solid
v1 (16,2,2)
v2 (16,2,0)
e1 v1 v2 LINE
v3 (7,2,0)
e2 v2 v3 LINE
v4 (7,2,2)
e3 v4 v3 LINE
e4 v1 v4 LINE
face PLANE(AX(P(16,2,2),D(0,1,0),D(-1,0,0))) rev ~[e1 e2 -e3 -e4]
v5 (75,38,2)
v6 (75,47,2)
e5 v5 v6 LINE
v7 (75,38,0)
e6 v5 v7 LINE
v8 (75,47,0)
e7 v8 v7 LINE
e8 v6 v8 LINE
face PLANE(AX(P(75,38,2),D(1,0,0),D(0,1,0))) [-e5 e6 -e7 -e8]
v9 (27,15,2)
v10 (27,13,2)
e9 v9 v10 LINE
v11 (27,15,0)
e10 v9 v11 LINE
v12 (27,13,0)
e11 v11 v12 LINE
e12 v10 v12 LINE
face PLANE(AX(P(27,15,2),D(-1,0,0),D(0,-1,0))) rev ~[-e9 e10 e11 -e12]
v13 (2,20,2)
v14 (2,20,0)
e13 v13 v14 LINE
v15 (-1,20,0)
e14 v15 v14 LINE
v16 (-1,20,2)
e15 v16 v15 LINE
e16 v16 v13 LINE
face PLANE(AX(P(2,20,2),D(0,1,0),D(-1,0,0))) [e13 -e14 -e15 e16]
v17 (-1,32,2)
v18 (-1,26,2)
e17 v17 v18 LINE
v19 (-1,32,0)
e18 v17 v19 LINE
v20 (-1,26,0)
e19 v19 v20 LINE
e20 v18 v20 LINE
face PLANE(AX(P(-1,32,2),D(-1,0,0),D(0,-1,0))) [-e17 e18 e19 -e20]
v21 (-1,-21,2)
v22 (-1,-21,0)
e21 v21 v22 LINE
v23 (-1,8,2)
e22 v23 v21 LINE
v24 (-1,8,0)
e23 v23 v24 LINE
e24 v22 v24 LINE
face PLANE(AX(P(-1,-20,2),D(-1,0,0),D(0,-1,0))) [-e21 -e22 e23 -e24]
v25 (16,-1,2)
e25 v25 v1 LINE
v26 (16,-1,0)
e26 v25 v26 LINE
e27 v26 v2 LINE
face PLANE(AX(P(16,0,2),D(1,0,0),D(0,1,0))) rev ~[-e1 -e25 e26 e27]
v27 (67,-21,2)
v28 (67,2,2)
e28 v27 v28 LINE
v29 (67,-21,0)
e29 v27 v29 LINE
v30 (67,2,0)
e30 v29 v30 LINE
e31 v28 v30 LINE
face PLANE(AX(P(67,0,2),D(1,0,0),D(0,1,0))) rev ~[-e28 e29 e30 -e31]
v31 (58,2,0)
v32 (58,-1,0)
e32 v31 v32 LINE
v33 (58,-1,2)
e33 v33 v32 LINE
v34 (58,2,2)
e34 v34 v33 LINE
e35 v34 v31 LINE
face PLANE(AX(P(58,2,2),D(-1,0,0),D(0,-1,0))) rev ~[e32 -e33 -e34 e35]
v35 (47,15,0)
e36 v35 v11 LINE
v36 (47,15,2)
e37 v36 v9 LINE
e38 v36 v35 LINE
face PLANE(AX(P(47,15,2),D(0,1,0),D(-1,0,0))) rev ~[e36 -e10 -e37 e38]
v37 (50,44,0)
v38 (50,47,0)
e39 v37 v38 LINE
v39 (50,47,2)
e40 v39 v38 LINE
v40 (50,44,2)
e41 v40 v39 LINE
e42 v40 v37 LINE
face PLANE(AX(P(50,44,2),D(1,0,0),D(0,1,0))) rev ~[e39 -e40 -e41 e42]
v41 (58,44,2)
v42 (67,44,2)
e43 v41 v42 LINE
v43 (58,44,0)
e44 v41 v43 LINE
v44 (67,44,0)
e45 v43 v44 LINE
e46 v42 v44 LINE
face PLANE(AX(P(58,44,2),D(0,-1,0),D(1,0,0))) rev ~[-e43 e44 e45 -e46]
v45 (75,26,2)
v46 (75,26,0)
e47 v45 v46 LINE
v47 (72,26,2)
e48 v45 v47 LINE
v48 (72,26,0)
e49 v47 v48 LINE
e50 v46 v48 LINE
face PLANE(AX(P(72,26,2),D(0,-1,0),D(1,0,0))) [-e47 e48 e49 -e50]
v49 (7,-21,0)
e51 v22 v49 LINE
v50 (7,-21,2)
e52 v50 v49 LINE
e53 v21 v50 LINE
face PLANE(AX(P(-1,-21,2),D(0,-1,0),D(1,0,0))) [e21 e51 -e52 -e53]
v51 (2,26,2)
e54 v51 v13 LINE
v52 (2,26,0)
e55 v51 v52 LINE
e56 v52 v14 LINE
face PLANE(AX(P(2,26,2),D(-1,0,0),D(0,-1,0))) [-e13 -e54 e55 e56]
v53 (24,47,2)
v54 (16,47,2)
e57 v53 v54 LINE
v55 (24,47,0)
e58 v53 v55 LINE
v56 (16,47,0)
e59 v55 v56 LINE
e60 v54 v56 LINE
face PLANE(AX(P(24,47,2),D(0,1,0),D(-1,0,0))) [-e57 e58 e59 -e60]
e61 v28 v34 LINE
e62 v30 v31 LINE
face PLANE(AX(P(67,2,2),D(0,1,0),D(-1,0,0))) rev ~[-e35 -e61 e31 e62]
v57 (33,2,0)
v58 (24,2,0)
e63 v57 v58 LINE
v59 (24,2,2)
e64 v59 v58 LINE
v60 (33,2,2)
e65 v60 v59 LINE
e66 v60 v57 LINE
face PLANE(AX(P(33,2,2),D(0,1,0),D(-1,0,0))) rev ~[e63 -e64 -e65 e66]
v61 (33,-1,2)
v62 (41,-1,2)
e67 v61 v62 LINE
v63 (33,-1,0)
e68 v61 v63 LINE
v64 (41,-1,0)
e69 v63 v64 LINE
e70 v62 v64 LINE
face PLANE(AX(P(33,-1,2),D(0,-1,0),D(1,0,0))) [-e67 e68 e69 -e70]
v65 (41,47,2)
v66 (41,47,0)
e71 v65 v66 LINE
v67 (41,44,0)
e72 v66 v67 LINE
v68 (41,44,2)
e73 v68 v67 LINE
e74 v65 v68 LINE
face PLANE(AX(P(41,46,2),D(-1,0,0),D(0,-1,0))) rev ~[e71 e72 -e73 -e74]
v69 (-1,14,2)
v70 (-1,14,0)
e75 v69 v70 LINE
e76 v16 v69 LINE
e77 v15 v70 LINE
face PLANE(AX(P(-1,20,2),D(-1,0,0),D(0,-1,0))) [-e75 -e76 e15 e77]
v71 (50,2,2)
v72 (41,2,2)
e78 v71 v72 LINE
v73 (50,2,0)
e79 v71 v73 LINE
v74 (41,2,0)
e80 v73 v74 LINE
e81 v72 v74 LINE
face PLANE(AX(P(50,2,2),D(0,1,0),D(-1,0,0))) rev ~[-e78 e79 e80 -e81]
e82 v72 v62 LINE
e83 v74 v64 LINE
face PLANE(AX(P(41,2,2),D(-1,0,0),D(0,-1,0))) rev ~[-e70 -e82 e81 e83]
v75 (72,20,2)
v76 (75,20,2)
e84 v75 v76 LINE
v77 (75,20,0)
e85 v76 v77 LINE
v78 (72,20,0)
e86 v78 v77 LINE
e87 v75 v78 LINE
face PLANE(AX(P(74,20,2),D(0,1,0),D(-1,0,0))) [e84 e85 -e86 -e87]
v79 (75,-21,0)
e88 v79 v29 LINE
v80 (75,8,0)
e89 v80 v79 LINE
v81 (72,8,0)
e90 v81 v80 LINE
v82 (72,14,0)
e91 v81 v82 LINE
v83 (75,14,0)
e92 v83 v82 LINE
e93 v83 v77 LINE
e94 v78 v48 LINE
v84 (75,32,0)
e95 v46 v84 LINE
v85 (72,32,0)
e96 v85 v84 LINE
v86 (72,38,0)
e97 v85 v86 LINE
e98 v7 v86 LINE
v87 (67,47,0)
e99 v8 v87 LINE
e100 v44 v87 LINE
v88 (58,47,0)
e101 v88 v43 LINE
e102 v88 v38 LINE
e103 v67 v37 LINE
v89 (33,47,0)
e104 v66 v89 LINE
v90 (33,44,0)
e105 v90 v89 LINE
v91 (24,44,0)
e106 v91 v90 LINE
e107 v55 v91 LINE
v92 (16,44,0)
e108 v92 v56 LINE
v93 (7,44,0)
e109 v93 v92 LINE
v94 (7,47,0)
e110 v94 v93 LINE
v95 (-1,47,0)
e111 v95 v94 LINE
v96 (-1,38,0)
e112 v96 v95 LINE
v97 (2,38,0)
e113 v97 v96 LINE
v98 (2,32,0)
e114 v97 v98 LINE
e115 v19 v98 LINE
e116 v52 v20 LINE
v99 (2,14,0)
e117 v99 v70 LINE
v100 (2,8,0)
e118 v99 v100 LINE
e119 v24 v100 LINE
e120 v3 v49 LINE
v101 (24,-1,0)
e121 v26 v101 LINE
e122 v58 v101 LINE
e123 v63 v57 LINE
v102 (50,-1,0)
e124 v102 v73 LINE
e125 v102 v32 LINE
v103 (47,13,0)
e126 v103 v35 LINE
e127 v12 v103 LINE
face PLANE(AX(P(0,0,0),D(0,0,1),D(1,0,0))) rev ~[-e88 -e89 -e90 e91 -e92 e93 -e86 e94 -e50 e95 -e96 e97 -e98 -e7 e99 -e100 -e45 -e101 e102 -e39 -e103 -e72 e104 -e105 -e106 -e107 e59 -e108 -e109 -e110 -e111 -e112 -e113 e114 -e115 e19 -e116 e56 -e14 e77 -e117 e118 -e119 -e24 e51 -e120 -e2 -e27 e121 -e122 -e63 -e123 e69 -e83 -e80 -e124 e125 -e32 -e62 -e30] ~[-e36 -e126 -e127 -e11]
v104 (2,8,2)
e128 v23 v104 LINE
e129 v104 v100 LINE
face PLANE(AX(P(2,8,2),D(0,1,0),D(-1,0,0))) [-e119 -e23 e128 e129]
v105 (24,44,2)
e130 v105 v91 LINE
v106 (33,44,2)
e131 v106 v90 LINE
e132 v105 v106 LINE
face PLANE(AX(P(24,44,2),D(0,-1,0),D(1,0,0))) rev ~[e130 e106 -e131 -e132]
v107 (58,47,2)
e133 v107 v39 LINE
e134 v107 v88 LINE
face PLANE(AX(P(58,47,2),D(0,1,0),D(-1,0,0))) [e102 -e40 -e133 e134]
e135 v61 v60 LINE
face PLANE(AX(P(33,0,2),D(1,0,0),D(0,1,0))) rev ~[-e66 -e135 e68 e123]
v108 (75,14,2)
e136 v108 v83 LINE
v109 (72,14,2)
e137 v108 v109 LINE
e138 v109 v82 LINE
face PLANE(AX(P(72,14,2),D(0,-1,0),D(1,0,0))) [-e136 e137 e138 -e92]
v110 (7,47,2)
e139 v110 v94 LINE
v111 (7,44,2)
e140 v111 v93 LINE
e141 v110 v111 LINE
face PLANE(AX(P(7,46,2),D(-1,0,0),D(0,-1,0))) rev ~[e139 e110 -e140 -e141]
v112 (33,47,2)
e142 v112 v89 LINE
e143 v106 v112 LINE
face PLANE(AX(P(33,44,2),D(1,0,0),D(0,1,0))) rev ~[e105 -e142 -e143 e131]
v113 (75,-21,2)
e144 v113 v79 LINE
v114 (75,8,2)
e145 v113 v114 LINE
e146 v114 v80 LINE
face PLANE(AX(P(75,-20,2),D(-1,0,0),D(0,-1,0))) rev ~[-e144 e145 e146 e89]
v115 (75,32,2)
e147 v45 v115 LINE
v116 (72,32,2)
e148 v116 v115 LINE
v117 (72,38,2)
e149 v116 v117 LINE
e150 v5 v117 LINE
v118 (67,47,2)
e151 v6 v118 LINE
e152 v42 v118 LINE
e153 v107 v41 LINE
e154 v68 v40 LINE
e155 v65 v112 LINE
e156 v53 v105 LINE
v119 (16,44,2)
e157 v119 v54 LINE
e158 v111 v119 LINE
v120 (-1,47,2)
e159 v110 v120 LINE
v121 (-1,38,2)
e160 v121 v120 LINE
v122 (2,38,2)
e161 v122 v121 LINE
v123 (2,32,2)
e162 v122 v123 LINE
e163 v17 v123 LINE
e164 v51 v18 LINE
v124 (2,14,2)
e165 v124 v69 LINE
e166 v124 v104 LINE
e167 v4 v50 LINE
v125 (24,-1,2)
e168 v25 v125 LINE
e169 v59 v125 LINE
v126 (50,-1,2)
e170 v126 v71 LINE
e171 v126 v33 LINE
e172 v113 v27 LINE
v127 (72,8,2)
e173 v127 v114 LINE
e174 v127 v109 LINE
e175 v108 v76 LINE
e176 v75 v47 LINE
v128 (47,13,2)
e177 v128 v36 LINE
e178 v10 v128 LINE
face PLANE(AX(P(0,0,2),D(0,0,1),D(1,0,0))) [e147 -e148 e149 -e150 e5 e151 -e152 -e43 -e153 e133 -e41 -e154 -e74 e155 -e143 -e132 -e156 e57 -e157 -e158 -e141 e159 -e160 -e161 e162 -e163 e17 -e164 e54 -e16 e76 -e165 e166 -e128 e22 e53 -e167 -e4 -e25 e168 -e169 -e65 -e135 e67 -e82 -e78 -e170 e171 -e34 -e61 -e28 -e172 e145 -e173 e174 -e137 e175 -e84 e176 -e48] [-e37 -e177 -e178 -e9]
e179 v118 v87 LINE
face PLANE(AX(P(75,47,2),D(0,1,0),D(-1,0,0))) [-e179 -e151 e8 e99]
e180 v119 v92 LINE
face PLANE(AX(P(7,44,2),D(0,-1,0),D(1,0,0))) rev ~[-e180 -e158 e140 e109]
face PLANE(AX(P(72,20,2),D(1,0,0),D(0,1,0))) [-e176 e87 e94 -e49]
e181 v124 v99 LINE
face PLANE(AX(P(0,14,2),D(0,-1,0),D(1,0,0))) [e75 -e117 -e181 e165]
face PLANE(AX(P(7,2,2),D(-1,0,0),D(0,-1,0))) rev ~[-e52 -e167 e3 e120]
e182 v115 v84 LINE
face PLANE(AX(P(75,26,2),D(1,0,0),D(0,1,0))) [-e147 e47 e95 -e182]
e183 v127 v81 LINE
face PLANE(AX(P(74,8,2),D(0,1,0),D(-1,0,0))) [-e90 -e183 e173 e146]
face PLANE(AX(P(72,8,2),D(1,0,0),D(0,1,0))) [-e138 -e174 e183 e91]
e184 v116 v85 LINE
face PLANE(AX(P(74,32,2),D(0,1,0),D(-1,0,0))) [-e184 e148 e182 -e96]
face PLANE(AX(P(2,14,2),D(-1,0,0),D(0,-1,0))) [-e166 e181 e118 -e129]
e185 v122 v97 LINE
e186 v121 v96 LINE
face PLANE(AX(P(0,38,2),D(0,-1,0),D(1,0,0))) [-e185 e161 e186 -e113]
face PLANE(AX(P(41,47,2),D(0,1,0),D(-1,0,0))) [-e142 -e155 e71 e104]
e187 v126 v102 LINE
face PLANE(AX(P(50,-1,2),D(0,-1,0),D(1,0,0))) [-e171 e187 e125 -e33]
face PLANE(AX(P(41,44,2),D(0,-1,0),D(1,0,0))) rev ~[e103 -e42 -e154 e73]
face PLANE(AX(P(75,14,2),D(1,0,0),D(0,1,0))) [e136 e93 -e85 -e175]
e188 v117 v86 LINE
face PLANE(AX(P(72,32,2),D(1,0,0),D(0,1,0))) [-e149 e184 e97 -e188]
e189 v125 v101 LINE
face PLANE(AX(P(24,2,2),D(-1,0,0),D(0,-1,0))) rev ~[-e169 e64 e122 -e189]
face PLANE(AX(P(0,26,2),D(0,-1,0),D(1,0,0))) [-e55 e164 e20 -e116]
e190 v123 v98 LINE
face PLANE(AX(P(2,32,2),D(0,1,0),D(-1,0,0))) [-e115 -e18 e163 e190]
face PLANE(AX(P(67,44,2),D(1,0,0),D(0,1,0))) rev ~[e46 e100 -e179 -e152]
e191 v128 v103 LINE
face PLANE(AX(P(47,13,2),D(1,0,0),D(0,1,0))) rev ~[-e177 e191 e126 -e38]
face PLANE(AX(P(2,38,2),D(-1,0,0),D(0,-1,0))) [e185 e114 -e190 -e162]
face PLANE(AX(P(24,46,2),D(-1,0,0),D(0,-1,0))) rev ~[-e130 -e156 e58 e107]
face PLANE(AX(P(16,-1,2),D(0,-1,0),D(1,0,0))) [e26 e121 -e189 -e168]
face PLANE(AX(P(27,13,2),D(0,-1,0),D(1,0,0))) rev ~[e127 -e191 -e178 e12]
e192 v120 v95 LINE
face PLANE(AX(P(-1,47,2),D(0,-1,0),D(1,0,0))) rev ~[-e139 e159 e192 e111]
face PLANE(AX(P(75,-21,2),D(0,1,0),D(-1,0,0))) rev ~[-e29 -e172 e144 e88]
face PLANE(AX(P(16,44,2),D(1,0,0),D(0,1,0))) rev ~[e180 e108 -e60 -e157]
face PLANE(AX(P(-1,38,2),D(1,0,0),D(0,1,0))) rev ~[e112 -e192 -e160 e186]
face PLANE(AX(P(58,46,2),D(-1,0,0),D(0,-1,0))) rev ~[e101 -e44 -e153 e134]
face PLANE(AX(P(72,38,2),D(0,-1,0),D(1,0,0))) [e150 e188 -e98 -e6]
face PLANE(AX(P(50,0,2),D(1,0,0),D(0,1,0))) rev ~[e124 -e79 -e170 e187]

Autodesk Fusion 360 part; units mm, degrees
sketch "スケッチ1" plane through (0, 0, 0) normal (0, 0, 1) x (1, 0, 0)
  line L0 (0, 0) -> (74, 0)
  line L1 (74, 0) -> (74, 46)
  line L2 (74, 46) -> (0, 46)
  line L3 (0, 46) -> (0, 0)
  dimension "d1" = 46
  dimension "d2" = 74
extrude "押し出し1" add sketch "スケッチ1" along normal blind 2
sketch "スケッチ2" plane through (0, 0, 2) normal (0, 0, 1) x (-1, 0, 0)
  line L0 (0, -46) -> (0, 0)
  line L1 (0, 0) -> (-74, 0)
  line L2 (-74, 0) -> (-74, -46)
  line L3 (-74, -46) -> (0, -46)
  line L4 (-27, -13) -> (-47, -13)
  line L5 (-47, -13) -> (-47, -15)
  line L6 (-47, -15) -> (-27, -15)
  line L7 (-27, -15) -> (-27, -13)
  dimension "d5" = 2
  dimension "d6" = 20
  dimension "d7" = 13
  dimension "d8" = 27
extrude "押し出し2" cut sketch "スケッチ2" against normal blind 2 contours L4 L5 L6 L7
sketch "スケッチ3" plane through (0, 0, 2) normal (0, 0, 1) x (-1, 0, 0)
  line L0 (-47, -13) -> (-27, -13)
  line L1 (-27, -13) -> (-27, -15)
  line L2 (-27, -15) -> (-47, -15)
  line L3 (-47, -15) -> (-47, -13)
  line L4 (0, -46) -> (0, 0)
  line L5 (0, 0) -> (-74, 0)
  line L6 (-74, 0) -> (-74, -46)
  line L7 (-74, -46) -> (0, -46)
  line L8 (-67, -46) -> (-58, -46)
  line L9 (-58, -46) -> (-58, -44)
  line L10 (-58, -44) -> (-67, -44)
  line L11 (-67, -44) -> (-67, -46)
  line L12 (-50, -46) -> (-41, -46)
  line L13 (-50, -44) -> (-50, -46)
  line L14 (-41, -44) -> (-50, -44)
  line L15 (-41, -46) -> (-41, -44)
  line L16 (-33, -46) -> (-24, -46)
  line L17 (-33, -44) -> (-33, -46)
  line L18 (-24, -44) -> (-33, -44)
  line L19 (-24, -46) -> (-24, -44)
  line L20 (-16, -46) -> (-7, -46)
  line L21 (-16, -44) -> (-16, -46)
  line L22 (-7, -44) -> (-16, -44)
  line L23 (-7, -46) -> (-7, -44)
  line L24 (-24, 0) -> (-33, 0)
  line L25 (-33, 0) -> (-33, -2)
  line L26 (-58, 0) -> (-67, 0)
  line L27 (-50, 0) -> (-50, -2)
  line L28 (-50, -2) -> (-41, -2)
  line L29 (-7, -2) -> (-7, 0)
  line L30 (-7, 0) -> (-16, 0)
  line L31 (-16, 0) -> (-16, -2)
  line L32 (-33, -2) -> (-24, -2)
  line L33 (-67, 0) -> (-67, -2)
  line L34 (-41, -2) -> (-41, 0)
  line L35 (-16, -2) -> (-7, -2)
  line L36 (-24, -2) -> (-24, 0)
  line L37 (-41, 0) -> (-50, 0)
  line L38 (-67, -2) -> (-58, -2)
  line L39 (-58, -2) -> (-58, 0)
  line L40 (0, -38) -> (-2, -38)
  line L41 (-2, -38) -> (-2, -32)
  line L42 (-2, -32) -> (0, -32)
  line L43 (0, -32) -> (0, -38)
  line L44 (-2, -20) -> (0, -20)
  line L45 (-2, -26) -> (-2, -20)
  line L46 (0, -26) -> (-2, -26)
  line L47 (0, -20) -> (0, -26)
  line L48 (-2, -8) -> (0, -8)
  line L49 (-2, -14) -> (-2, -8)
  line L50 (0, -14) -> (-2, -14)
  line L51 (0, -8) -> (0, -14)
  line L52 (-74, -20) -> (-72, -20)
  line L53 (-72, -8) -> (-72, -14)
  line L54 (-74, -8) -> (-72, -8)
  line L55 (-72, -14) -> (-74, -14)
  line L56 (-74, -38) -> (-74, -32)
  line L57 (-72, -32) -> (-72, -38)
  line L58 (-72, -26) -> (-74, -26)
  line L59 (-74, -32) -> (-72, -32)
  line L60 (-74, -14) -> (-74, -8)
  line L61 (-72, -20) -> (-72, -26)
  line L62 (-74, -26) -> (-74, -20)
  line L63 (-72, -38) -> (-74, -38)
  dimension "d11" = 9
  dimension "d12" = 2
  dimension "d13" = 7
  dimension "d16" = 17
  dimension "d17" = 0
  dimension "d20" = 0
  dimension "d21" = 44
  dimension "d22" = 6
  dimension "d23" = 2
  dimension "d24" = 8
  dimension "d27" = 0
  dimension "d28" = 12
  dimension "d31" = -72
  dimension "d32" = 0
extrude "押し出し3" cut sketch "スケッチ3" against normal blind 2 contours L4 L40 L41 L42 L43 | L7 L20 L21 L22 L23 | L4 L44 L45 L46 L47 | L7 L16 L17 L18 L19 | L4 L48 L49 L50 L51 | L7 L12 L13 L14 L15 | L7 L8 L9 L10 L11 | L5 L29 L30 L31 L35 | L5 L24 L25 L32 L36 | L6 L56 L57 L59 L63 | L5 L27 L28 L34 L37 | L6 L52 L58 L61 L62 | L5 L26 L33 L38 L39 | L6 L53 L54 L55 L60
sketch "スケッチ4" plane through (0, 0, 2) normal (0, 0, 1) x (-1, 0, 0)
  line L0 (-50, -2) -> (-50, 0)
  line L1 (-50, 0) -> (-58, 0)
  line L2 (-58, 0) -> (-58, -2)
  line L3 (-58, -2) -> (-67, -2)
  line L4 (-67, -2) -> (-67, 0)
  line L5 (-67, 0) -> (-74, 0)
  line L6 (-74, 0) -> (-74, -8)
  line L7 (-74, -8) -> (-72, -8)
  line L8 (-72, -8) -> (-72, -14)
  line L9 (-72, -14) -> (-74, -14)
  line L10 (-74, -14) -> (-74, -20)
  line L11 (-74, -20) -> (-72, -20)
  line L12 (-72, -20) -> (-72, -26)
  line L13 (-72, -26) -> (-74, -26)
  line L14 (-74, -26) -> (-74, -32)
  line L15 (-74, -32) -> (-72, -32)
  line L16 (-72, -32) -> (-72, -38)
  line L17 (-72, -38) -> (-74, -38)
  line L18 (-74, -38) -> (-74, -46)
  line L19 (-74, -46) -> (-67, -46)
  line L20 (-67, -46) -> (-67, -44)
  line L21 (-67, -44) -> (-58, -44)
  line L22 (-58, -44) -> (-58, -46)
  line L23 (-58, -46) -> (-50, -46)
  line L24 (-50, -46) -> (-50, -44)
  line L25 (-50, -44) -> (-41, -44)
  line L26 (-41, -44) -> (-41, -46)
  line L27 (-41, -46) -> (-33, -46)
  line L28 (-33, -46) -> (-33, -44)
  line L29 (-33, -44) -> (-24, -44)
  line L30 (-24, -44) -> (-24, -46)
  line L31 (-24, -46) -> (-16, -46)
  line L32 (-16, -46) -> (-16, -44)
  line L33 (-16, -44) -> (-7, -44)
  line L34 (-7, -44) -> (-7, -46)
  line L35 (-7, -46) -> (0, -46)
  line L36 (0, -46) -> (0, -38)
  line L37 (0, -38) -> (-2, -38)
  line L38 (-2, -38) -> (-2, -32)
  line L39 (-2, -32) -> (0, -32)
  line L40 (0, -32) -> (0, -26)
  line L41 (0, -26) -> (-2, -26)
  line L42 (-2, -26) -> (-2, -20)
  line L43 (-2, -20) -> (0, -20)
  line L44 (0, -20) -> (0, -14)
  line L45 (0, -14) -> (-2, -14)
  line L46 (-2, -14) -> (-2, -8)
  line L47 (-2, -8) -> (0, -8)
  line L48 (0, -8) -> (0, 0)
  line L49 (0, 0) -> (-7, 0)
  line L50 (-7, 0) -> (-7, -2)
  line L51 (-7, -2) -> (-16, -2)
  line L52 (-16, -2) -> (-16, 0)
  line L53 (-16, 0) -> (-24, 0)
  line L54 (-24, 0) -> (-24, -2)
  line L55 (-24, -2) -> (-33, -2)
  line L56 (-33, -2) -> (-33, 0)
  line L57 (-33, 0) -> (-41, 0)
  line L58 (-41, 0) -> (-41, -2)
  line L59 (-41, -2) -> (-50, -2)
  line L60 (-47, -13) -> (-27, -13)
  line L61 (-27, -13) -> (-27, -15)
  line L62 (-27, -15) -> (-47, -15)
  line L63 (-47, -15) -> (-47, -13)
  line L64 (0, 0) -> (0, 20)
  line L65 (0, 20) -> (-7, 20)
  line L66 (-7, 20) -> (-7, 0)
  line L67 (-74, 0) -> (-74, 20)
  line L68 (-74, 20) -> (-67, 20)
  line L69 (-67, 20) -> (-67, 0)
extrude "押し出し4" add sketch "スケッチ4" against normal blind 2 contours L5 L67 L68 L69 | L49 L64 L65 L66
sketch "スケッチ5" plane through (0, 0, 2) normal (0, 0, 1) x (-1, 0, 0)
  line L0 (-50, -2) -> (-50, 0)
  line L1 (-50, 0) -> (-58, 0)
  line L2 (-58, 0) -> (-58, -2)
  line L3 (-58, -2) -> (-67, -2)
  line L4 (-67, -2) -> (-67, 20)
  line L5 (-67, 20) -> (-74, 20)
  line L6 (-74, 20) -> (-74, -8)
  line L7 (-74, -8) -> (-72, -8)
  line L8 (-72, -8) -> (-72, -14)
  line L9 (-72, -14) -> (-74, -14)
  line L10 (-74, -14) -> (-74, -20)
  line L11 (-74, -20) -> (-72, -20)
  line L12 (-72, -20) -> (-72, -26)
  line L13 (-72, -26) -> (-74, -26)
  line L14 (-74, -26) -> (-74, -32)
  line L15 (-74, -32) -> (-72, -32)
  line L16 (-72, -32) -> (-72, -38)
  line L17 (-72, -38) -> (-74, -38)
  line L18 (-74, -38) -> (-74, -46)
  line L19 (-74, -46) -> (-67, -46)
  line L20 (-67, -46) -> (-67, -44)
  line L21 (-67, -44) -> (-58, -44)
  line L22 (-58, -44) -> (-58, -46)
  line L23 (-58, -46) -> (-50, -46)
  line L24 (-50, -46) -> (-50, -44)
  line L25 (-50, -44) -> (-41, -44)
  line L26 (-41, -44) -> (-41, -46)
  line L27 (-41, -46) -> (-33, -46)
  line L28 (-33, -46) -> (-33, -44)
  line L29 (-33, -44) -> (-24, -44)
  line L30 (-24, -44) -> (-24, -46)
  line L31 (-24, -46) -> (-16, -46)
  line L32 (-16, -46) -> (-16, -44)
  line L33 (-16, -44) -> (-7, -44)
  line L34 (-7, -44) -> (-7, -46)
  line L35 (-7, -46) -> (0, -46)
  line L36 (0, -46) -> (0, -38)
  line L37 (0, -38) -> (-2, -38)
  line L38 (-2, -38) -> (-2, -32)
  line L39 (-2, -32) -> (0, -32)
  line L40 (0, -32) -> (0, -26)
  line L41 (0, -26) -> (-2, -26)
  line L42 (-2, -26) -> (-2, -20)
  line L43 (-2, -20) -> (0, -20)
  line L44 (0, -20) -> (0, -14)
  line L45 (0, -14) -> (-2, -14)
  line L46 (-2, -14) -> (-2, -8)
  line L47 (-2, -8) -> (0, -8)
  line L48 (0, -8) -> (0, 20)
  line L49 (0, 20) -> (-7, 20)
  line L50 (-7, 20) -> (-7, -2)
  line L51 (-7, -2) -> (-16, -2)
  line L52 (-16, -2) -> (-16, 0)
  line L53 (-16, 0) -> (-24, 0)
  line L54 (-24, 0) -> (-24, -2)
  line L55 (-24, -2) -> (-33, -2)
  line L56 (-33, -2) -> (-33, 0)
  line L57 (-33, 0) -> (-41, 0)
  line L58 (-41, 0) -> (-41, -2)
  line L59 (-41, -2) -> (-50, -2)
  line L60 (-47, -13) -> (-27, -13)
  line L61 (-27, -13) -> (-27, -15)
  line L62 (-27, -15) -> (-47, -15)
  line L63 (-47, -15) -> (-47, -13)
  line L64 (0, -47) -> (-7, -47)
  line L65 (-7, -47) -> (-7, -46)
  line L66 (-7, -46) -> (0, -46)
  line L67 (0, -46) -> (0, -47)
  line L68 (-16, -46) -> (-24, -46)
  line L69 (-24, -46) -> (-24, -47)
  line L70 (-24, -47) -> (-16, -47)
  line L71 (-16, -47) -> (-16, -46)
  line L72 (-33, -46) -> (-41, -46)
  line L73 (-41, -46) -> (-41, -47)
  line L74 (-41, -47) -> (-33, -47)
  line L75 (-33, -47) -> (-33, -46)
  line L76 (-50, -46) -> (-58, -46)
  line L77 (-58, -46) -> (-58, -47)
  line L78 (-58, -47) -> (-50, -47)
  line L79 (-50, -47) -> (-50, -46)
  line L80 (-67, -46) -> (-75, -46)
  line L81 (-75, -46) -> (-75, -47)
  line L82 (-75, -47) -> (-67, -47)
  line L83 (-67, -47) -> (-67, -46)
  line L84 (-75, -46) -> (-74, -46)
  line L85 (-74, -46) -> (-74, -38)
  line L86 (-74, -38) -> (-75, -38)
  line L87 (-75, -38) -> (-75, -46)
  line L88 (-75, -32) -> (-74, -32)
  line L89 (-74, -32) -> (-74, -26)
  line L90 (-74, -26) -> (-75, -26)
  line L91 (-75, -26) -> (-75, -32)
  line L92 (-75, -20) -> (-74, -20)
  line L93 (-74, -20) -> (-74, -14)
  line L94 (-74, -14) -> (-75, -14)
  line L95 (-75, -14) -> (-75, -20)
  line L96 (-75, -8) -> (-74, -8)
  line L97 (-74, -8) -> (-74, 20)
  line L98 (-74, 20) -> (-75, 20)
  line L99 (-75, 20) -> (-75, -8)
  line L100 (-75, 21) -> (-67, 21)
  line L101 (-67, 21) -> (-67, 20)
  line L102 (-67, 20) -> (-75, 20)
  line L103 (-75, 20) -> (-75, 21)
  line L104 (-58, 0) -> (-50, 0)
  line L105 (-50, 0) -> (-50, 1)
  line L106 (-50, 1) -> (-58, 1)
  line L107 (-58, 1) -> (-58, 0)
  line L108 (-41, 0) -> (-33, 0)
  line L109 (-33, 0) -> (-33, 1)
  line L110 (-33, 1) -> (-41, 1)
  line L111 (-41, 1) -> (-41, 0)
  line L112 (-24, 0) -> (-16, 0)
  line L113 (-16, 0) -> (-16, 1)
  line L114 (-16, 1) -> (-24, 1)
  line L115 (-24, 1) -> (-24, 0)
  line L116 (-7, 20) -> (1, 20)
  line L117 (1, 20) -> (1, 21)
  line L118 (1, 21) -> (-7, 21)
  line L119 (-7, 21) -> (-7, 20)
  line L120 (1, 20) -> (0, 20)
  line L121 (0, 20) -> (0, -8)
  line L122 (0, -8) -> (1, -8)
  line L123 (1, -8) -> (1, 20)
  line L124 (1, -14) -> (0, -14)
  line L125 (0, -14) -> (0, -20)
  line L126 (0, -20) -> (1, -20)
  line L127 (1, -20) -> (1, -14)
  line L128 (1, -26) -> (0, -26)
  line L129 (0, -26) -> (0, -32)
  line L130 (0, -32) -> (1, -32)
  line L131 (1, -32) -> (1, -26)
  line L132 (0, -38) -> (1, -38)
  line L133 (1, -38) -> (1, -47)
  line L134 (1, -47) -> (0, -47)
  line L135 (0, -47) -> (0, -38)
extrude "押し出し5" add sketch "スケッチ5" against normal blind 2 contours L1 L104 L105 L106 L107 | L57 L108 L109 L110 L111 | L5 L98 L100 L101 L102 L103 | L6 L96 L97 L98 L99 L102 | L53 L112 L113 L114 L115 | L10 L92 L93 L94 L95 | L49 L116 L117 L118 L119 L120 | L48 L116 L120 L121 L122 L123 | L14 L88 L89 L90 L91 | L44 L124 L125 L126 L127 | L18 L80 L84 L85 L86 L87 | L19 L80 L81 L82 L83 L84 | L40 L128 L129 L130 L131 | L23 L76 L77 L78 L79 | L36 L67 L132 L133 L134 L135 | L35 L64 L65 L66 L67 L135 | L27 L72 L73 L74 L75 | L31 L68 L69 L70 L71
sketch "スケッチ6" plane through (0, 0, 2) normal (0, 0, 1) x (-1, 0, 0)
  line L0 (-50, -2) -> (-50, 1)
  line L1 (-50, 1) -> (-58, 1)
  line L2 (-58, 1) -> (-58, -2)
  line L3 (-58, -2) -> (-67, -2)
  line L4 (-67, -2) -> (-67, 21)
  line L5 (-67, 21) -> (-75, 21)
  line L6 (-75, 21) -> (-75, -8)
  line L7 (-75, -8) -> (-72, -8)
  line L8 (-72, -8) -> (-72, -14)
  line L9 (-72, -14) -> (-75, -14)
  line L10 (-75, -14) -> (-75, -20)
  line L11 (-75, -20) -> (-72, -20)
  line L12 (-72, -20) -> (-72, -26)
  line L13 (-72, -26) -> (-75, -26)
  line L14 (-75, -26) -> (-75, -32)
  line L15 (-75, -32) -> (-72, -32)
  line L16 (-72, -32) -> (-72, -38)
  line L17 (-72, -38) -> (-75, -38)
  line L18 (-75, -38) -> (-75, -47)
  line L19 (-75, -47) -> (-67, -47)
  line L20 (-67, -47) -> (-67, -44)
  line L21 (-67, -44) -> (-58, -44)
  line L22 (-58, -44) -> (-58, -47)
  line L23 (-58, -47) -> (-50, -47)
  line L24 (-50, -47) -> (-50, -44)
  line L25 (-50, -44) -> (-41, -44)
  line L26 (-41, -44) -> (-41, -47)
  line L27 (-41, -47) -> (-33, -47)
  line L28 (-33, -47) -> (-33, -44)
  line L29 (-33, -44) -> (-24, -44)
  line L30 (-24, -44) -> (-24, -47)
  line L31 (-24, -47) -> (-16, -47)
  line L32 (-16, -47) -> (-16, -44)
  line L33 (-16, -44) -> (-7, -44)
  line L34 (-7, -44) -> (-7, -47)
  line L35 (-7, -47) -> (1, -47)
  line L36 (1, -47) -> (1, -38)
  line L37 (1, -38) -> (-2, -38)
  line L38 (-2, -38) -> (-2, -32)
  line L39 (-2, -32) -> (1, -32)
  line L40 (1, -32) -> (1, -26)
  line L41 (1, -26) -> (-2, -26)
  line L42 (-2, -26) -> (-2, -20)
  line L43 (-2, -20) -> (1, -20)
  line L44 (1, -20) -> (1, -14)
  line L45 (1, -14) -> (-2, -14)
  line L46 (-2, -14) -> (-2, -8)
  line L47 (-2, -8) -> (1, -8)
  line L48 (1, -8) -> (1, 21)
  line L49 (1, 21) -> (-7, 21)
  line L50 (-7, 21) -> (-7, -2)
  line L51 (-7, -2) -> (-16, -2)
  line L52 (-16, -2) -> (-16, 1)
  line L53 (-16, 1) -> (-24, 1)
  line L54 (-24, 1) -> (-24, -2)
  line L55 (-24, -2) -> (-33, -2)
  line L56 (-33, -2) -> (-33, 1)
  line L57 (-33, 1) -> (-41, 1)
  line L58 (-41, 1) -> (-41, -2)
  line L59 (-41, -2) -> (-50, -2)
  line L60 (-47, -13) -> (-27, -13)
  line L61 (-27, -13) -> (-27, -15)
  line L62 (-27, -15) -> (-47, -15)
  line L63 (-47, -15) -> (-47, -13)
